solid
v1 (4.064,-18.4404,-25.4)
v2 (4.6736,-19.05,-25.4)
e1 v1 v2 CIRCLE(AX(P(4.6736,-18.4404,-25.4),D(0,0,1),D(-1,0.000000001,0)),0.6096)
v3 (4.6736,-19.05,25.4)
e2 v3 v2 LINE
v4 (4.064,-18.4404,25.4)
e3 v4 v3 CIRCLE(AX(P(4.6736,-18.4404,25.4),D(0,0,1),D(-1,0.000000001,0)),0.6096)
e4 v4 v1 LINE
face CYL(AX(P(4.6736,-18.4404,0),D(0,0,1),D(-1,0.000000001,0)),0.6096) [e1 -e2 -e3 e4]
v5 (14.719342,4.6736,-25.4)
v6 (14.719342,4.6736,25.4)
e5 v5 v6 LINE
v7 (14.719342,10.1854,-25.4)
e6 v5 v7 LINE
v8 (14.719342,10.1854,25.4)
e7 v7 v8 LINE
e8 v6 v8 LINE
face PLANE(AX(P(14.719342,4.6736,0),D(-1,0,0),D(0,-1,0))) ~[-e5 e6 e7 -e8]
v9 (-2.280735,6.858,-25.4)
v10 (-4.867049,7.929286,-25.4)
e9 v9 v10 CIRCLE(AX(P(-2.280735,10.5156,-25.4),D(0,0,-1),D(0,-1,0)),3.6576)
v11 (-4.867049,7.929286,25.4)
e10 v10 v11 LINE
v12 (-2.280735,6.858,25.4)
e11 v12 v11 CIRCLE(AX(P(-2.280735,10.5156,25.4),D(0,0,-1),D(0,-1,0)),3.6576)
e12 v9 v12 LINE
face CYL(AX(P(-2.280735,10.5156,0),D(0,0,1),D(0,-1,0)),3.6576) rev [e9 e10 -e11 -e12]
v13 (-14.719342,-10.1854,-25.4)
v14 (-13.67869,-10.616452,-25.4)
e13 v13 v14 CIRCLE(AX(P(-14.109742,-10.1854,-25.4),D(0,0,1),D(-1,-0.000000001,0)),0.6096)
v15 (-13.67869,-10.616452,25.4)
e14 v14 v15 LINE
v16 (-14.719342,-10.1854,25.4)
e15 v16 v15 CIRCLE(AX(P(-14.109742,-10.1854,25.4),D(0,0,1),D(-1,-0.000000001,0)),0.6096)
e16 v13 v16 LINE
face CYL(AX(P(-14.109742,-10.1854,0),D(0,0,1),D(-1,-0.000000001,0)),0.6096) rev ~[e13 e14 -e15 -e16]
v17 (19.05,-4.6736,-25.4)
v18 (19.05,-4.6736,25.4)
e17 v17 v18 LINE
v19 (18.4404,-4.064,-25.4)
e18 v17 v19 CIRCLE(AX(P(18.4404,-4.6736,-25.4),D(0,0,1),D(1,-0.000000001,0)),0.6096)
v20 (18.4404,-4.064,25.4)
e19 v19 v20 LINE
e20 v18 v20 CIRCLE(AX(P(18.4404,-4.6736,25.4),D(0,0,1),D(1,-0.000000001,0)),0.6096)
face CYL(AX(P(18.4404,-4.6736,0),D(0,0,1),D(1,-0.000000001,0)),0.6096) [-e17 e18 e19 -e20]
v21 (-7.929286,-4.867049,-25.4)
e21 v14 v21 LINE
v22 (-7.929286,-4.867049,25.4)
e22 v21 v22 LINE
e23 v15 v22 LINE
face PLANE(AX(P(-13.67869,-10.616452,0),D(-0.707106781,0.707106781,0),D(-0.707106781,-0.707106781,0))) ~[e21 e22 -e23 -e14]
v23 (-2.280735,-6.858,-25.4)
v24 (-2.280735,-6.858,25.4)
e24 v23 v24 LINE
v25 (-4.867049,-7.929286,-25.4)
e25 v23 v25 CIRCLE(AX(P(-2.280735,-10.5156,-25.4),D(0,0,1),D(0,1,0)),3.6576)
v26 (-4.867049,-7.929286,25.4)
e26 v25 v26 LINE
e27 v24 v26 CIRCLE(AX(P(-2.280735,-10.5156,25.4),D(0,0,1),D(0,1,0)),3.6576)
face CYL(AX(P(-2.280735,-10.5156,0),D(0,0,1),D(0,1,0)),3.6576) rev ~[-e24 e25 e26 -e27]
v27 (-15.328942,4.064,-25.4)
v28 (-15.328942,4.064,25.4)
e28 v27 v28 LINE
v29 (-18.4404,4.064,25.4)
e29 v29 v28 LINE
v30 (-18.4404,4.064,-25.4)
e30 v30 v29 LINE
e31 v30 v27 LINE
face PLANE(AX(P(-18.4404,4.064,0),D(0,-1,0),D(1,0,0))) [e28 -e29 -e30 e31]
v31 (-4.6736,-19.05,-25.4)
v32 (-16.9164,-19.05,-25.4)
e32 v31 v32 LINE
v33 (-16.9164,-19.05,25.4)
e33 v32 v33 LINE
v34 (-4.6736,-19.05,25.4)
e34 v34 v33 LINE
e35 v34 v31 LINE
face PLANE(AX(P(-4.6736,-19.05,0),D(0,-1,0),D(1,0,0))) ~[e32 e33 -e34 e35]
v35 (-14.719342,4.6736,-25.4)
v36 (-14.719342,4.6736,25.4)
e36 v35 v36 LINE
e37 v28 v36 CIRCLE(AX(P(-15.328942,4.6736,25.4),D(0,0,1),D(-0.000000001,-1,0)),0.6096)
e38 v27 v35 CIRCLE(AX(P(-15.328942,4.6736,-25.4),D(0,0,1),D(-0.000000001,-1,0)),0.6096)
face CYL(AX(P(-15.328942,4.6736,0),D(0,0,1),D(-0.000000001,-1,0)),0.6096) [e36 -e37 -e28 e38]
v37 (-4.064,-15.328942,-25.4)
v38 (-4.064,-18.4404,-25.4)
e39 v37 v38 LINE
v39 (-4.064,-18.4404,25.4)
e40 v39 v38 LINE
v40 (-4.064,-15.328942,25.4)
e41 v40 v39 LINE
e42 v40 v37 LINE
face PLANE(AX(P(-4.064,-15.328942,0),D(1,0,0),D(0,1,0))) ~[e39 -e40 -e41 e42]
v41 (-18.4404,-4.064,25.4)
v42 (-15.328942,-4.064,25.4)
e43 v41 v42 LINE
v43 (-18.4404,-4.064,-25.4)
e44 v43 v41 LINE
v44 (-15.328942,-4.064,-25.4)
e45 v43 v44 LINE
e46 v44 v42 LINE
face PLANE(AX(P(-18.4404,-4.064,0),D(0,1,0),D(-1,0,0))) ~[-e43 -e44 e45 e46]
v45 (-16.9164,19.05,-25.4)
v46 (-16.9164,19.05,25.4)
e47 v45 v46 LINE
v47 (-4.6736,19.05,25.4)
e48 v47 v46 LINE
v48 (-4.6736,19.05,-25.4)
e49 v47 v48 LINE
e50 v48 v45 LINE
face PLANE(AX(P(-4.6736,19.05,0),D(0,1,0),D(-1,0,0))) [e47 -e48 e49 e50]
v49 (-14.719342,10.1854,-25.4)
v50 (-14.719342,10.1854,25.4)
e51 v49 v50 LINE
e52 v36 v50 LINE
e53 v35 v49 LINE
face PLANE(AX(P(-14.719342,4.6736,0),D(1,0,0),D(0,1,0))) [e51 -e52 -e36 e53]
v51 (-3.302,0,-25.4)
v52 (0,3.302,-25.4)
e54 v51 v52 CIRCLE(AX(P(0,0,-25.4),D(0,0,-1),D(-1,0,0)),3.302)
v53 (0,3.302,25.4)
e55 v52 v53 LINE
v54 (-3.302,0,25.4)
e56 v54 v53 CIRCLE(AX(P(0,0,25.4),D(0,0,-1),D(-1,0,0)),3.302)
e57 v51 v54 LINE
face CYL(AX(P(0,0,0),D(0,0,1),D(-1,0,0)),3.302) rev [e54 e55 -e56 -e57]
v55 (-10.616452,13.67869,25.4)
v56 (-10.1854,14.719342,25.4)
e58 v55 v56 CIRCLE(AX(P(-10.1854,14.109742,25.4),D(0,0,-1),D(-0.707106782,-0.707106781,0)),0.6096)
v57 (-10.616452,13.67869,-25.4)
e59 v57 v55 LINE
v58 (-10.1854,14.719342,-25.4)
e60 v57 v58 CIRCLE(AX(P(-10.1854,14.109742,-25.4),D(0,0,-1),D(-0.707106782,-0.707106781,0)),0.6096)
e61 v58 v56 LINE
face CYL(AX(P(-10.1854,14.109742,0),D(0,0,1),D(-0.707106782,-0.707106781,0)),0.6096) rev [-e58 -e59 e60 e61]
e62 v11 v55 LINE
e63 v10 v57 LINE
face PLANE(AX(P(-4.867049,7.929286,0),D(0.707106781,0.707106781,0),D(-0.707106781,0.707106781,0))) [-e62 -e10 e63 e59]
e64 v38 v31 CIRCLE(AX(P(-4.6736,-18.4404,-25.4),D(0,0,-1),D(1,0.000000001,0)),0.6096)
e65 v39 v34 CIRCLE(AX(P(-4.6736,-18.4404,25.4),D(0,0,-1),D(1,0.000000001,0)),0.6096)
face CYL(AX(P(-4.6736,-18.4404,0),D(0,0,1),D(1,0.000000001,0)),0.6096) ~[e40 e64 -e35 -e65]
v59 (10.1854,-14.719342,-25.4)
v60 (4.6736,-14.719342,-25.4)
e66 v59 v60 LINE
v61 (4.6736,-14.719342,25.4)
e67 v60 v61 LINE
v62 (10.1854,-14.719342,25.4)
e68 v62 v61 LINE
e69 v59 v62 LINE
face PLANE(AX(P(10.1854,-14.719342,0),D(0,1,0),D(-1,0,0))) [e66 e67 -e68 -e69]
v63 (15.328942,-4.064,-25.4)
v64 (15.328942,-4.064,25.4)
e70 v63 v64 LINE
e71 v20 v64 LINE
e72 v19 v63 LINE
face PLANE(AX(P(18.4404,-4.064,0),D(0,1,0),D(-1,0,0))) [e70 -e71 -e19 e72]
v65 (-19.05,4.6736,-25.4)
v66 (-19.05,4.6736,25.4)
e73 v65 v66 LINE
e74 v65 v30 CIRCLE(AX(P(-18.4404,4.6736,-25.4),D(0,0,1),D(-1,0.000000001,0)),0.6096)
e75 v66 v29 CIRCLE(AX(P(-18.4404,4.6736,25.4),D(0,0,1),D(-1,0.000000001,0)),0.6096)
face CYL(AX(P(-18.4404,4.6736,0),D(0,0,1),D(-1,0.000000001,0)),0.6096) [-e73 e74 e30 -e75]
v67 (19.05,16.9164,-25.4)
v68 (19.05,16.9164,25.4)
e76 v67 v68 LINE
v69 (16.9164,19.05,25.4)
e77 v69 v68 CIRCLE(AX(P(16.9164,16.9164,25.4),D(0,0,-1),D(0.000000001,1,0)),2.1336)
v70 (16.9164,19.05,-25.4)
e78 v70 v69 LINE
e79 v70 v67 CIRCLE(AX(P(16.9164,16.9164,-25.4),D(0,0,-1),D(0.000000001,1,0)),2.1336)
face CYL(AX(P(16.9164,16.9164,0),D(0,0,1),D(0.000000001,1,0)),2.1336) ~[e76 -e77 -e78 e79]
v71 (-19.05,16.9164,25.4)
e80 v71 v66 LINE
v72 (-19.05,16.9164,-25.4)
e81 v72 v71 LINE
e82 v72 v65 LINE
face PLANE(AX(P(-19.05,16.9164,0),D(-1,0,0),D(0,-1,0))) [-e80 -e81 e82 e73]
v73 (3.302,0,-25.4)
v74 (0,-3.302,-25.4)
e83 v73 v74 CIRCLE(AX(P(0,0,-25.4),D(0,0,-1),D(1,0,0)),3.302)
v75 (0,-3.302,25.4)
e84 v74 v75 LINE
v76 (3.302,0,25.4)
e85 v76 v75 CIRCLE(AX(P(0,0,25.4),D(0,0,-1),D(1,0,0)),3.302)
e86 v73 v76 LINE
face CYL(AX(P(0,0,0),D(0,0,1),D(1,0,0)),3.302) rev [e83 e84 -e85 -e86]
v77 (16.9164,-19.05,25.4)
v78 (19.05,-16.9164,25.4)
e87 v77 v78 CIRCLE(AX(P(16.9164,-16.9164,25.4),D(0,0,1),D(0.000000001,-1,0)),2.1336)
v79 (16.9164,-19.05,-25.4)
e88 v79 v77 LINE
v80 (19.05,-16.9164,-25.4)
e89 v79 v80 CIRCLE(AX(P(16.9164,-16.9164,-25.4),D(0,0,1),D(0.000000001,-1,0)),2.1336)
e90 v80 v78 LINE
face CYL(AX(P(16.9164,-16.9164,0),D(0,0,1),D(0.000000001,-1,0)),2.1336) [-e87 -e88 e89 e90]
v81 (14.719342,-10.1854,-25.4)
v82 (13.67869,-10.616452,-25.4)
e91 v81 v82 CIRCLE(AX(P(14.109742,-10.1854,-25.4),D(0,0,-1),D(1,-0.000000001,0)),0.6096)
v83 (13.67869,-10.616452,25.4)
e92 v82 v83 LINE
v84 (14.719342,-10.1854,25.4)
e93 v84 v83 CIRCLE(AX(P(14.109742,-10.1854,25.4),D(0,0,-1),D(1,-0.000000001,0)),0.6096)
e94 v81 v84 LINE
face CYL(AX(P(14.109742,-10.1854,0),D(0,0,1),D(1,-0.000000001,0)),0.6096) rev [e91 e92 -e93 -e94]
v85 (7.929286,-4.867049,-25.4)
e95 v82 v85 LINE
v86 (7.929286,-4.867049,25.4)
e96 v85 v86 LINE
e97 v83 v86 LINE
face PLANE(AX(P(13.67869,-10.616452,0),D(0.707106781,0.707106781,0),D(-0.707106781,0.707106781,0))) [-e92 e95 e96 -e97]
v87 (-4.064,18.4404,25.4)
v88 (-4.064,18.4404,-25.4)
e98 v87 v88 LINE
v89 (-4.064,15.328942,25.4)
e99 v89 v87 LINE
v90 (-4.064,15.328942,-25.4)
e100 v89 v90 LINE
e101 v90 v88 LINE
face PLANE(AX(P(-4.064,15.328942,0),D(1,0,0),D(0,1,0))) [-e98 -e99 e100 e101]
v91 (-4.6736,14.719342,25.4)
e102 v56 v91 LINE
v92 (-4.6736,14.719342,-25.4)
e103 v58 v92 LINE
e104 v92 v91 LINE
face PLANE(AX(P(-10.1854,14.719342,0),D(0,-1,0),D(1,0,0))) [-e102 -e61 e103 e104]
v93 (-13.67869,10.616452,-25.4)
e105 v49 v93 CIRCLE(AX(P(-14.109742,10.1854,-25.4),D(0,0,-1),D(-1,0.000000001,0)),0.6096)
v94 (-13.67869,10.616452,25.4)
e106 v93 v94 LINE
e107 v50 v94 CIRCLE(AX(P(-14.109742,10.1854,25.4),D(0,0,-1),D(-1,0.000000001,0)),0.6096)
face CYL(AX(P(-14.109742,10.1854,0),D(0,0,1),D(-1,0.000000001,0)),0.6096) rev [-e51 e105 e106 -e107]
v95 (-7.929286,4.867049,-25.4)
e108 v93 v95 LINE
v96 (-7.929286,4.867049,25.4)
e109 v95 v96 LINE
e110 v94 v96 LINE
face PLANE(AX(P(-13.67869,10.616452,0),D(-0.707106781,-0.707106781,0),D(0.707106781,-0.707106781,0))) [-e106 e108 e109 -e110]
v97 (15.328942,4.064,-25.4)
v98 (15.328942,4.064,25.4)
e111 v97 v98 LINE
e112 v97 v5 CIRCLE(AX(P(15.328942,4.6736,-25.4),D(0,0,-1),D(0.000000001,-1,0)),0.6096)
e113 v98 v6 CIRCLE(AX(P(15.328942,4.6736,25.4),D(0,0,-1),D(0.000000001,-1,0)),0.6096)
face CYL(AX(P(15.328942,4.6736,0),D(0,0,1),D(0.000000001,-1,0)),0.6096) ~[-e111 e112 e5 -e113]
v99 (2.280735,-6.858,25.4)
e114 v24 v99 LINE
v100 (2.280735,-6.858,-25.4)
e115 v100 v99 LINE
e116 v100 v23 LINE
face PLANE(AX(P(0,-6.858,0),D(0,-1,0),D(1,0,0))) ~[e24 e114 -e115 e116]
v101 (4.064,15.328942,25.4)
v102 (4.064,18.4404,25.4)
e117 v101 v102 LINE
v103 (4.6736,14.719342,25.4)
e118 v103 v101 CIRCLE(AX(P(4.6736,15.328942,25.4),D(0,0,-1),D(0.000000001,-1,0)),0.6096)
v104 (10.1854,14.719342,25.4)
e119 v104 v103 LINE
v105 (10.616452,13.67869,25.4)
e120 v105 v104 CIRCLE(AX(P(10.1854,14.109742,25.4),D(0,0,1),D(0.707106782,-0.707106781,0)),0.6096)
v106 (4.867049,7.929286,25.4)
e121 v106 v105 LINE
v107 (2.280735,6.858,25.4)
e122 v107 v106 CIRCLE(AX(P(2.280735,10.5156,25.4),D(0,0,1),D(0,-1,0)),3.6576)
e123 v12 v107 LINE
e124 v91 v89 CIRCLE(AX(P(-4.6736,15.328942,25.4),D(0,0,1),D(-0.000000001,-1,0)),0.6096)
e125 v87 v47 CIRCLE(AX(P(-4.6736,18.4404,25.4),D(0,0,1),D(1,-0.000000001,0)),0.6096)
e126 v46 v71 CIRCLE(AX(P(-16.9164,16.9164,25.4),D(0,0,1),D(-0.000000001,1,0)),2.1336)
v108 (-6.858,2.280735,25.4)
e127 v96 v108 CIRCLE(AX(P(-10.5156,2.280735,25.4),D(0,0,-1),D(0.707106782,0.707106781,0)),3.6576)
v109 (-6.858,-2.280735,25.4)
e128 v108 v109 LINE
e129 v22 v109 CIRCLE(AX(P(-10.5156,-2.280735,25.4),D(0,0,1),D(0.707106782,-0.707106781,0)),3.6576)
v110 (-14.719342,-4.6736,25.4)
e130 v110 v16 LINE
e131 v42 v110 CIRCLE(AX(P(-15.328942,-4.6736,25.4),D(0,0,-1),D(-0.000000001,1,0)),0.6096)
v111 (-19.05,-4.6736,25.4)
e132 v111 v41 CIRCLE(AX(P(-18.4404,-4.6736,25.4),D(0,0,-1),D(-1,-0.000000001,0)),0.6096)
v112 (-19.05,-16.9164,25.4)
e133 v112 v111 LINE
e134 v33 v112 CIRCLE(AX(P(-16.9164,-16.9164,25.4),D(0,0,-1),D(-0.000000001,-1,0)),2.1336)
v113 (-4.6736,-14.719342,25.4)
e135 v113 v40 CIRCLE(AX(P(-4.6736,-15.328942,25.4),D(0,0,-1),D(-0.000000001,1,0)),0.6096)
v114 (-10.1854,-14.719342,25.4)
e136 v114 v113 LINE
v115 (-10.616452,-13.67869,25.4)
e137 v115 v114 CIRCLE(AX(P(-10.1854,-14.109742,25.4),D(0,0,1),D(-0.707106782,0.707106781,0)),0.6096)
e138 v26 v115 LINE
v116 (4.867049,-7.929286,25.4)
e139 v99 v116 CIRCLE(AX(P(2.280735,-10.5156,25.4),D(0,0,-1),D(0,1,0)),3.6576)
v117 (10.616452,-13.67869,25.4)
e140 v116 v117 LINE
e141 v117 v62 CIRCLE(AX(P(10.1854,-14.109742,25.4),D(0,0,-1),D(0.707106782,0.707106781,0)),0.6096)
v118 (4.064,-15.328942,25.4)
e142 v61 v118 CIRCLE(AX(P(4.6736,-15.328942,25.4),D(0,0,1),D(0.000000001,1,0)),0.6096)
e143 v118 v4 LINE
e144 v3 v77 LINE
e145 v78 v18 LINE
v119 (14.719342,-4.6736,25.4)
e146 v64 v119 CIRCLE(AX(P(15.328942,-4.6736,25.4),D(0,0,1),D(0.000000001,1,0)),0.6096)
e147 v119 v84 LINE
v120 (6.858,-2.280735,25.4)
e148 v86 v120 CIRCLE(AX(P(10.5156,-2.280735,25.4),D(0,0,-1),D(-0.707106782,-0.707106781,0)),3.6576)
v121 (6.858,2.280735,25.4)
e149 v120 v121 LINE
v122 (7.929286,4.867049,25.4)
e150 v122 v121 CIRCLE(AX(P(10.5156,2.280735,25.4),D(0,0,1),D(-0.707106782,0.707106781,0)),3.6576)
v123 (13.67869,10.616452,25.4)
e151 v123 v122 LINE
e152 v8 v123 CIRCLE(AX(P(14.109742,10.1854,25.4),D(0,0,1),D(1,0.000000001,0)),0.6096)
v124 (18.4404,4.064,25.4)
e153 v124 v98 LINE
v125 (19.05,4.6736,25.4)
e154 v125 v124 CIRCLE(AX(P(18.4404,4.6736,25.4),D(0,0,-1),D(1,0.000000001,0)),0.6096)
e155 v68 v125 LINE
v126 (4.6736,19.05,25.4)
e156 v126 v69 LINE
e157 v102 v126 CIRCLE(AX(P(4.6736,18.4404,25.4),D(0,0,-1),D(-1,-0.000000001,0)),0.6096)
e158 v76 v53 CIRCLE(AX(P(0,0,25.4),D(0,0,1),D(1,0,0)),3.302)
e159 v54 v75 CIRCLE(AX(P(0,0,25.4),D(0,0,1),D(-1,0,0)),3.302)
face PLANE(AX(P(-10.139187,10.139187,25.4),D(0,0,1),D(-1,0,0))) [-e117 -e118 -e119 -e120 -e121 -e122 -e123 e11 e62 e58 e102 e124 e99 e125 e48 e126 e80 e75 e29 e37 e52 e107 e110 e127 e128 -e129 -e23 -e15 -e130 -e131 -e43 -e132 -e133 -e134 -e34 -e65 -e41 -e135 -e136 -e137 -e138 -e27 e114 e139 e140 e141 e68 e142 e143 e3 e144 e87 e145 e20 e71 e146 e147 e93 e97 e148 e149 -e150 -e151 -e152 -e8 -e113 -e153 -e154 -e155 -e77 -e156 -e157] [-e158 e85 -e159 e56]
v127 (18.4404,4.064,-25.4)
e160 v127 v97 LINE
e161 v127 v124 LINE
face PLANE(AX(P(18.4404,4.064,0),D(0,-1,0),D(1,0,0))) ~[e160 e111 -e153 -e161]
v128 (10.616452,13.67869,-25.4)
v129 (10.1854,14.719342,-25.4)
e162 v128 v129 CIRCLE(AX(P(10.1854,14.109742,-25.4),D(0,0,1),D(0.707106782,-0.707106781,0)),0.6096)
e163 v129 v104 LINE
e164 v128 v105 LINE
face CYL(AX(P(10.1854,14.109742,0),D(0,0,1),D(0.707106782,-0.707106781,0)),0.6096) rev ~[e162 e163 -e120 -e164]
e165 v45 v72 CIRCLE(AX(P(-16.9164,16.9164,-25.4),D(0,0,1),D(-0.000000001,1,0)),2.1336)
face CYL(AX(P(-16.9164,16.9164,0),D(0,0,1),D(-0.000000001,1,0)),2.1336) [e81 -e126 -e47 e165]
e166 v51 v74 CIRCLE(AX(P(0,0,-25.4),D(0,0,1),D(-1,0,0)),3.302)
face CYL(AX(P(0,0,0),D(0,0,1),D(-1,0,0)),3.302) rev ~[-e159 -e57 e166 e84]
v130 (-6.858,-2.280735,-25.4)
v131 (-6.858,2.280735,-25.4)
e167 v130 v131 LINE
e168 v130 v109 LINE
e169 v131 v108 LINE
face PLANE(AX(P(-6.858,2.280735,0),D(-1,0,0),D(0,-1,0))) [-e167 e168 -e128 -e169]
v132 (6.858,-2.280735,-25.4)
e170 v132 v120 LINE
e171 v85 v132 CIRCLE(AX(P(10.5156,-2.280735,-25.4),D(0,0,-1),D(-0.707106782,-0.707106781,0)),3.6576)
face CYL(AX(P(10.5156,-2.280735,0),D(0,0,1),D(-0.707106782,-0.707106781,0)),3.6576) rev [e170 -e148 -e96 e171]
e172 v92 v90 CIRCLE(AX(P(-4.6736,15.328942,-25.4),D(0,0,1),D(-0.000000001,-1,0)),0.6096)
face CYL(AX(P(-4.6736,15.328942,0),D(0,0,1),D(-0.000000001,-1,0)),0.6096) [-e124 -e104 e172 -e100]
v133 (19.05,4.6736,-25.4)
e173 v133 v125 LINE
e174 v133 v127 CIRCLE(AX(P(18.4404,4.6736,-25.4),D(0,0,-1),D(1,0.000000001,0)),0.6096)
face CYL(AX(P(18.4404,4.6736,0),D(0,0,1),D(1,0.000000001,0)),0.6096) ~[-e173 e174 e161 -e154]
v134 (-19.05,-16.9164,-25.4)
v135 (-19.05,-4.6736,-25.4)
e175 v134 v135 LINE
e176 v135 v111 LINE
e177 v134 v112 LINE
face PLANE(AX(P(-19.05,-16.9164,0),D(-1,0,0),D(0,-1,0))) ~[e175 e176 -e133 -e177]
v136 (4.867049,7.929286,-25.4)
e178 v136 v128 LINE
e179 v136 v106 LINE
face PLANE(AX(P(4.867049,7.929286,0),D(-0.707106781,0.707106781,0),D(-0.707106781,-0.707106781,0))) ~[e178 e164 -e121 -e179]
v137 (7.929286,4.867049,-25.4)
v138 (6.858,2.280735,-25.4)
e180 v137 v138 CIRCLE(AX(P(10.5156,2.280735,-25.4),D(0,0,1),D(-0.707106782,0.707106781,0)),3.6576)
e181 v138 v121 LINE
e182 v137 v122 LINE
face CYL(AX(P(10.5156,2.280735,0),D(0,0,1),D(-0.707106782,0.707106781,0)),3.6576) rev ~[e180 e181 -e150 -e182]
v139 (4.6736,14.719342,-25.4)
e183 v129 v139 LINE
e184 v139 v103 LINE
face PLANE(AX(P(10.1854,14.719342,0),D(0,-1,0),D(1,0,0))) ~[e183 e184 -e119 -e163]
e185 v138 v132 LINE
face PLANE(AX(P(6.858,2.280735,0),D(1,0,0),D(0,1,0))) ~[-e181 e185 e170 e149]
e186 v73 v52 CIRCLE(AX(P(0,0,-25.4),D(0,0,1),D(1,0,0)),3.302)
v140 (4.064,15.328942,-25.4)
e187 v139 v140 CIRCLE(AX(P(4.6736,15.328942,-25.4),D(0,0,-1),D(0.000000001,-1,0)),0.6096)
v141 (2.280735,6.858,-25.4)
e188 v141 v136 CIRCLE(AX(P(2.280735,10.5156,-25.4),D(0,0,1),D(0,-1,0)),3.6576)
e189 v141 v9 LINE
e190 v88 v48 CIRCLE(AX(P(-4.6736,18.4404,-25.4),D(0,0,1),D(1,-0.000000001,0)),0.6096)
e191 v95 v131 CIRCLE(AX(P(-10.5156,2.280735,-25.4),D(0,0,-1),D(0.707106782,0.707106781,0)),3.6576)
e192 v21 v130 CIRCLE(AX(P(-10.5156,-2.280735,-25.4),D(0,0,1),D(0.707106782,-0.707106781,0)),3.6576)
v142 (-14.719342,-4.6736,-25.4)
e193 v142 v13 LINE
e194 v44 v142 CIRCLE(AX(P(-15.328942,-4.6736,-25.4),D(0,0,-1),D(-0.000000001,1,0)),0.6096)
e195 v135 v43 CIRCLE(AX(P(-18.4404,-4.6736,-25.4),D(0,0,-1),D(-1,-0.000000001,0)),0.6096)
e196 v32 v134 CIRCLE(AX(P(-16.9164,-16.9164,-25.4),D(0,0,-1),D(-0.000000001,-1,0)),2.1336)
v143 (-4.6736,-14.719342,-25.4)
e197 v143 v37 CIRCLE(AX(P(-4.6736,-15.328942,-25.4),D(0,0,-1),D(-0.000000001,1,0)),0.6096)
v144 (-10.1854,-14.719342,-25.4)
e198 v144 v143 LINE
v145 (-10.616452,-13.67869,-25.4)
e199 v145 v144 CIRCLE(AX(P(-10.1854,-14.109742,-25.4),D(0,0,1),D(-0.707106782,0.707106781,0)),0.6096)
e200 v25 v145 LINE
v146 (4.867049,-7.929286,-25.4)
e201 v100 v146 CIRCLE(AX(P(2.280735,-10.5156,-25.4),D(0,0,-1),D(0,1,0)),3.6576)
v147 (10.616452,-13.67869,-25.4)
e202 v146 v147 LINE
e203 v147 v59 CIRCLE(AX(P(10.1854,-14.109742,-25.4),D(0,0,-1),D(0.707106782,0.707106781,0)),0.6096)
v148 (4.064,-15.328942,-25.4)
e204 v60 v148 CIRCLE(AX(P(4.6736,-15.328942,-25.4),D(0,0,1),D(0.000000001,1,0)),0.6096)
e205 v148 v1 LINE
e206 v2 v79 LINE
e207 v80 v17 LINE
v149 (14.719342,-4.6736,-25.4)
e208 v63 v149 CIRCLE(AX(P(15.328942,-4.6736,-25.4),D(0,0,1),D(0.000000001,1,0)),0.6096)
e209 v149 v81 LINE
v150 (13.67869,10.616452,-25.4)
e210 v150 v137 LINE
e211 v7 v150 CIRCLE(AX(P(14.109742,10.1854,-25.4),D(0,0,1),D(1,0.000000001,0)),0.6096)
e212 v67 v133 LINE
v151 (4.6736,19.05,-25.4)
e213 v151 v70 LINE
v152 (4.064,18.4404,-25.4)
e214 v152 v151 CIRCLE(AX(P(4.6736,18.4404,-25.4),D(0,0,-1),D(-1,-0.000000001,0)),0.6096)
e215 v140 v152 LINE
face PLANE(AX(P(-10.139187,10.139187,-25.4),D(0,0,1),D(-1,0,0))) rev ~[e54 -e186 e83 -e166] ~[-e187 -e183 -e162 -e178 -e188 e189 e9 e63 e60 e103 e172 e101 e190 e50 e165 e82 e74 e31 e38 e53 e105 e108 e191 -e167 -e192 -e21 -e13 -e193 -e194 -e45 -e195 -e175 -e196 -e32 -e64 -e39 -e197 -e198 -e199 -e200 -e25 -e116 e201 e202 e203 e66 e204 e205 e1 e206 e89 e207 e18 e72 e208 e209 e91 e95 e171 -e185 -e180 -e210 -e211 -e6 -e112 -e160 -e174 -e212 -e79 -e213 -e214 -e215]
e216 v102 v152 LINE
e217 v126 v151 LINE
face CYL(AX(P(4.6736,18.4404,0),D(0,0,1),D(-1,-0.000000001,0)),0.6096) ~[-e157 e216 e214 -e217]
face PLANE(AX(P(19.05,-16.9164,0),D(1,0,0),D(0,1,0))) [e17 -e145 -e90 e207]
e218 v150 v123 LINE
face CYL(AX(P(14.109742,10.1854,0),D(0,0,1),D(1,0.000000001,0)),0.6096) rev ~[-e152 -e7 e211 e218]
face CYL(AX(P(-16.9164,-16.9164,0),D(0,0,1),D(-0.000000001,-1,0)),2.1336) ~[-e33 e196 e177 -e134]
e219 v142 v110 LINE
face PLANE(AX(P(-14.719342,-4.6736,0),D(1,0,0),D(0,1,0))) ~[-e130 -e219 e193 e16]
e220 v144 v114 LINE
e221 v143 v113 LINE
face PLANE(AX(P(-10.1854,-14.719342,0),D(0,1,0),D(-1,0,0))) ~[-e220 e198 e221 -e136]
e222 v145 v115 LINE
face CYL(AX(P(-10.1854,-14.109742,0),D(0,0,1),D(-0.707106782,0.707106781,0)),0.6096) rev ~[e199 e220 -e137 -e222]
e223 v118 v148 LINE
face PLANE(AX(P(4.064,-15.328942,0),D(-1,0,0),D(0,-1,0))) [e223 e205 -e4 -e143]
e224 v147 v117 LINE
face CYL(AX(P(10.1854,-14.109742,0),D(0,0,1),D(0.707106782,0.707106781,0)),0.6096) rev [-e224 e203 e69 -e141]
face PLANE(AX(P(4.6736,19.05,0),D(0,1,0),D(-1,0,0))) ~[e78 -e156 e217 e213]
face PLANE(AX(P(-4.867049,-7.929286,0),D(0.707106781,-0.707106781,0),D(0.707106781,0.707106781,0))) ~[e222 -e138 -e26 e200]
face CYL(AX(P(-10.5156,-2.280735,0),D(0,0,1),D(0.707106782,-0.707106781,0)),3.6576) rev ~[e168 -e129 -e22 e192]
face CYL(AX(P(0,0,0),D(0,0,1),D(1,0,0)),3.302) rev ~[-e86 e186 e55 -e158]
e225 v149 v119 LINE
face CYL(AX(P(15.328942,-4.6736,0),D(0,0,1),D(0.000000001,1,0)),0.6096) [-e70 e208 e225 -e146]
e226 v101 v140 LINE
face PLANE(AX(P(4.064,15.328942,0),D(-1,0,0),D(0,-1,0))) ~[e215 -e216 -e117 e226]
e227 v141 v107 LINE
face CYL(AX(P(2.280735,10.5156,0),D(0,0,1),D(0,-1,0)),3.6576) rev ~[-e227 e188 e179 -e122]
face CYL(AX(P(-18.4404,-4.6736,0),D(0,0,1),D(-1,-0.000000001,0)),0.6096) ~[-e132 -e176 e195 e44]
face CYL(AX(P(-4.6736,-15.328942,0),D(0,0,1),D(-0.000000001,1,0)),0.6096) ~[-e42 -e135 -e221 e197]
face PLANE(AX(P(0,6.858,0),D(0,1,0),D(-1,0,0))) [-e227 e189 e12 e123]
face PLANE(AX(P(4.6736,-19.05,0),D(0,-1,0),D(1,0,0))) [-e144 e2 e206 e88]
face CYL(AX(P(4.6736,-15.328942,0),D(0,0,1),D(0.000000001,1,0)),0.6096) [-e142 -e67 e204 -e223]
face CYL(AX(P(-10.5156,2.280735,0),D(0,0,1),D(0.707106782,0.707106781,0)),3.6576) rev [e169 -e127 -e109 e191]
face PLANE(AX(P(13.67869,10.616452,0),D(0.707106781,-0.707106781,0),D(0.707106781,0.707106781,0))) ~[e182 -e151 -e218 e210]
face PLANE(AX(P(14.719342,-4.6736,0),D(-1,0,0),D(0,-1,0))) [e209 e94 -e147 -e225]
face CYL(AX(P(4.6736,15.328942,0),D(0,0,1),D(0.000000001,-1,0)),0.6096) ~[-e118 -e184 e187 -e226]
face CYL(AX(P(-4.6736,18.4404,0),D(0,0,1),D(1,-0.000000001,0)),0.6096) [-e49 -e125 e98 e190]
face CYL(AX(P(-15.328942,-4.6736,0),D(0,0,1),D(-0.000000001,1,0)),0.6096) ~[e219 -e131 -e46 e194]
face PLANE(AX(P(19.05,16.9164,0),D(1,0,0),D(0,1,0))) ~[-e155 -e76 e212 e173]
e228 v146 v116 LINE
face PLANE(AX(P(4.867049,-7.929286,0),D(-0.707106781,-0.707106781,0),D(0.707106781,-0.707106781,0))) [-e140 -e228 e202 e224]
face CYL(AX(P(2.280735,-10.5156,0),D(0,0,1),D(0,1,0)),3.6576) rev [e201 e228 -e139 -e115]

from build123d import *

# Parameters (mm, degrees)
BOSS_EXTRUDE1_DEPTH = 25.4


with BuildPart() as part:
    # Sketch4 → Boss-Extrude1 (new, symmetric)
    with BuildSketch(Plane.XY):
        with BuildLine():
            Line((4.6736, -19.05), (16.9164, -19.05))
            ThreePointArc((16.9164, -19.05), (18.425083028, -18.425083028), (19.05, -16.9164))
            Line((19.05, -16.9164), (19.05, -4.6736))
            ThreePointArc((19.05, -4.6736), (18.871452294, -4.242547706), (18.4404, -4.064))
            Line((18.4404, -4.064), (15.328942133, -4.064))
            ThreePointArc((15.328942133, -4.064), (14.897889839, -4.242547706), (14.719342133, -4.6736))
            Line((14.719342133, -4.6736), (14.719342133, -10.1854))
            ThreePointArc((14.719342133, -10.1854), (14.343025953, -10.748596963), (13.678689839, -10.616452294))
            Line((13.678689839, -10.616452294), (7.929286237, -4.867048692))
            ThreePointArc((7.929286237, -4.867048692), (7.136418222, -3.680437851), (6.858, -2.280734929))
            Line((6.858, -2.280734929), (6.858, 0))
            Line((6.858, 0), (3.302, 0))
            ThreePointArc((3.302, 0), (2.334866591, -2.334866591), (0, -3.302))
            Line((0, -3.302), (0, -6.858))
            Line((0, -6.858), (2.280734929, -6.858))
            ThreePointArc((2.280734929, -6.858), (3.680437851, -7.136418222), (4.867048692, -7.929286237))
            Line((4.867048692, -7.929286237), (10.616452294, -13.678689839))
            ThreePointArc((10.616452294, -13.678689839), (10.748596963, -14.343025953), (10.1854, -14.719342133))
            Line((10.1854, -14.719342133), (4.6736, -14.719342133))
            ThreePointArc((4.6736, -14.719342133), (4.242547706, -14.897889839), (4.064, -15.328942133))
            Line((4.064, -15.328942133), (4.064, -18.4404))
            ThreePointArc((4.064, -18.4404), (4.242547706, -18.871452294), (4.6736, -19.05))
        make_face()
    extrude(amount=BOSS_EXTRUDE1_DEPTH, both=True)

    # Mirror1: part across plane


with BuildPart() as part_1:
    add(part.part)
    add(part.part.mirror(Plane(origin=(0, 0, 0), x_dir=(0, 0, 1), z_dir=(1, 0, 0))))

    # Mirror2: part across plane


with BuildPart() as part_2:
    add(part_1.part)
    add(part_1.part.mirror(Plane.ZX))


solid = part_2.part
